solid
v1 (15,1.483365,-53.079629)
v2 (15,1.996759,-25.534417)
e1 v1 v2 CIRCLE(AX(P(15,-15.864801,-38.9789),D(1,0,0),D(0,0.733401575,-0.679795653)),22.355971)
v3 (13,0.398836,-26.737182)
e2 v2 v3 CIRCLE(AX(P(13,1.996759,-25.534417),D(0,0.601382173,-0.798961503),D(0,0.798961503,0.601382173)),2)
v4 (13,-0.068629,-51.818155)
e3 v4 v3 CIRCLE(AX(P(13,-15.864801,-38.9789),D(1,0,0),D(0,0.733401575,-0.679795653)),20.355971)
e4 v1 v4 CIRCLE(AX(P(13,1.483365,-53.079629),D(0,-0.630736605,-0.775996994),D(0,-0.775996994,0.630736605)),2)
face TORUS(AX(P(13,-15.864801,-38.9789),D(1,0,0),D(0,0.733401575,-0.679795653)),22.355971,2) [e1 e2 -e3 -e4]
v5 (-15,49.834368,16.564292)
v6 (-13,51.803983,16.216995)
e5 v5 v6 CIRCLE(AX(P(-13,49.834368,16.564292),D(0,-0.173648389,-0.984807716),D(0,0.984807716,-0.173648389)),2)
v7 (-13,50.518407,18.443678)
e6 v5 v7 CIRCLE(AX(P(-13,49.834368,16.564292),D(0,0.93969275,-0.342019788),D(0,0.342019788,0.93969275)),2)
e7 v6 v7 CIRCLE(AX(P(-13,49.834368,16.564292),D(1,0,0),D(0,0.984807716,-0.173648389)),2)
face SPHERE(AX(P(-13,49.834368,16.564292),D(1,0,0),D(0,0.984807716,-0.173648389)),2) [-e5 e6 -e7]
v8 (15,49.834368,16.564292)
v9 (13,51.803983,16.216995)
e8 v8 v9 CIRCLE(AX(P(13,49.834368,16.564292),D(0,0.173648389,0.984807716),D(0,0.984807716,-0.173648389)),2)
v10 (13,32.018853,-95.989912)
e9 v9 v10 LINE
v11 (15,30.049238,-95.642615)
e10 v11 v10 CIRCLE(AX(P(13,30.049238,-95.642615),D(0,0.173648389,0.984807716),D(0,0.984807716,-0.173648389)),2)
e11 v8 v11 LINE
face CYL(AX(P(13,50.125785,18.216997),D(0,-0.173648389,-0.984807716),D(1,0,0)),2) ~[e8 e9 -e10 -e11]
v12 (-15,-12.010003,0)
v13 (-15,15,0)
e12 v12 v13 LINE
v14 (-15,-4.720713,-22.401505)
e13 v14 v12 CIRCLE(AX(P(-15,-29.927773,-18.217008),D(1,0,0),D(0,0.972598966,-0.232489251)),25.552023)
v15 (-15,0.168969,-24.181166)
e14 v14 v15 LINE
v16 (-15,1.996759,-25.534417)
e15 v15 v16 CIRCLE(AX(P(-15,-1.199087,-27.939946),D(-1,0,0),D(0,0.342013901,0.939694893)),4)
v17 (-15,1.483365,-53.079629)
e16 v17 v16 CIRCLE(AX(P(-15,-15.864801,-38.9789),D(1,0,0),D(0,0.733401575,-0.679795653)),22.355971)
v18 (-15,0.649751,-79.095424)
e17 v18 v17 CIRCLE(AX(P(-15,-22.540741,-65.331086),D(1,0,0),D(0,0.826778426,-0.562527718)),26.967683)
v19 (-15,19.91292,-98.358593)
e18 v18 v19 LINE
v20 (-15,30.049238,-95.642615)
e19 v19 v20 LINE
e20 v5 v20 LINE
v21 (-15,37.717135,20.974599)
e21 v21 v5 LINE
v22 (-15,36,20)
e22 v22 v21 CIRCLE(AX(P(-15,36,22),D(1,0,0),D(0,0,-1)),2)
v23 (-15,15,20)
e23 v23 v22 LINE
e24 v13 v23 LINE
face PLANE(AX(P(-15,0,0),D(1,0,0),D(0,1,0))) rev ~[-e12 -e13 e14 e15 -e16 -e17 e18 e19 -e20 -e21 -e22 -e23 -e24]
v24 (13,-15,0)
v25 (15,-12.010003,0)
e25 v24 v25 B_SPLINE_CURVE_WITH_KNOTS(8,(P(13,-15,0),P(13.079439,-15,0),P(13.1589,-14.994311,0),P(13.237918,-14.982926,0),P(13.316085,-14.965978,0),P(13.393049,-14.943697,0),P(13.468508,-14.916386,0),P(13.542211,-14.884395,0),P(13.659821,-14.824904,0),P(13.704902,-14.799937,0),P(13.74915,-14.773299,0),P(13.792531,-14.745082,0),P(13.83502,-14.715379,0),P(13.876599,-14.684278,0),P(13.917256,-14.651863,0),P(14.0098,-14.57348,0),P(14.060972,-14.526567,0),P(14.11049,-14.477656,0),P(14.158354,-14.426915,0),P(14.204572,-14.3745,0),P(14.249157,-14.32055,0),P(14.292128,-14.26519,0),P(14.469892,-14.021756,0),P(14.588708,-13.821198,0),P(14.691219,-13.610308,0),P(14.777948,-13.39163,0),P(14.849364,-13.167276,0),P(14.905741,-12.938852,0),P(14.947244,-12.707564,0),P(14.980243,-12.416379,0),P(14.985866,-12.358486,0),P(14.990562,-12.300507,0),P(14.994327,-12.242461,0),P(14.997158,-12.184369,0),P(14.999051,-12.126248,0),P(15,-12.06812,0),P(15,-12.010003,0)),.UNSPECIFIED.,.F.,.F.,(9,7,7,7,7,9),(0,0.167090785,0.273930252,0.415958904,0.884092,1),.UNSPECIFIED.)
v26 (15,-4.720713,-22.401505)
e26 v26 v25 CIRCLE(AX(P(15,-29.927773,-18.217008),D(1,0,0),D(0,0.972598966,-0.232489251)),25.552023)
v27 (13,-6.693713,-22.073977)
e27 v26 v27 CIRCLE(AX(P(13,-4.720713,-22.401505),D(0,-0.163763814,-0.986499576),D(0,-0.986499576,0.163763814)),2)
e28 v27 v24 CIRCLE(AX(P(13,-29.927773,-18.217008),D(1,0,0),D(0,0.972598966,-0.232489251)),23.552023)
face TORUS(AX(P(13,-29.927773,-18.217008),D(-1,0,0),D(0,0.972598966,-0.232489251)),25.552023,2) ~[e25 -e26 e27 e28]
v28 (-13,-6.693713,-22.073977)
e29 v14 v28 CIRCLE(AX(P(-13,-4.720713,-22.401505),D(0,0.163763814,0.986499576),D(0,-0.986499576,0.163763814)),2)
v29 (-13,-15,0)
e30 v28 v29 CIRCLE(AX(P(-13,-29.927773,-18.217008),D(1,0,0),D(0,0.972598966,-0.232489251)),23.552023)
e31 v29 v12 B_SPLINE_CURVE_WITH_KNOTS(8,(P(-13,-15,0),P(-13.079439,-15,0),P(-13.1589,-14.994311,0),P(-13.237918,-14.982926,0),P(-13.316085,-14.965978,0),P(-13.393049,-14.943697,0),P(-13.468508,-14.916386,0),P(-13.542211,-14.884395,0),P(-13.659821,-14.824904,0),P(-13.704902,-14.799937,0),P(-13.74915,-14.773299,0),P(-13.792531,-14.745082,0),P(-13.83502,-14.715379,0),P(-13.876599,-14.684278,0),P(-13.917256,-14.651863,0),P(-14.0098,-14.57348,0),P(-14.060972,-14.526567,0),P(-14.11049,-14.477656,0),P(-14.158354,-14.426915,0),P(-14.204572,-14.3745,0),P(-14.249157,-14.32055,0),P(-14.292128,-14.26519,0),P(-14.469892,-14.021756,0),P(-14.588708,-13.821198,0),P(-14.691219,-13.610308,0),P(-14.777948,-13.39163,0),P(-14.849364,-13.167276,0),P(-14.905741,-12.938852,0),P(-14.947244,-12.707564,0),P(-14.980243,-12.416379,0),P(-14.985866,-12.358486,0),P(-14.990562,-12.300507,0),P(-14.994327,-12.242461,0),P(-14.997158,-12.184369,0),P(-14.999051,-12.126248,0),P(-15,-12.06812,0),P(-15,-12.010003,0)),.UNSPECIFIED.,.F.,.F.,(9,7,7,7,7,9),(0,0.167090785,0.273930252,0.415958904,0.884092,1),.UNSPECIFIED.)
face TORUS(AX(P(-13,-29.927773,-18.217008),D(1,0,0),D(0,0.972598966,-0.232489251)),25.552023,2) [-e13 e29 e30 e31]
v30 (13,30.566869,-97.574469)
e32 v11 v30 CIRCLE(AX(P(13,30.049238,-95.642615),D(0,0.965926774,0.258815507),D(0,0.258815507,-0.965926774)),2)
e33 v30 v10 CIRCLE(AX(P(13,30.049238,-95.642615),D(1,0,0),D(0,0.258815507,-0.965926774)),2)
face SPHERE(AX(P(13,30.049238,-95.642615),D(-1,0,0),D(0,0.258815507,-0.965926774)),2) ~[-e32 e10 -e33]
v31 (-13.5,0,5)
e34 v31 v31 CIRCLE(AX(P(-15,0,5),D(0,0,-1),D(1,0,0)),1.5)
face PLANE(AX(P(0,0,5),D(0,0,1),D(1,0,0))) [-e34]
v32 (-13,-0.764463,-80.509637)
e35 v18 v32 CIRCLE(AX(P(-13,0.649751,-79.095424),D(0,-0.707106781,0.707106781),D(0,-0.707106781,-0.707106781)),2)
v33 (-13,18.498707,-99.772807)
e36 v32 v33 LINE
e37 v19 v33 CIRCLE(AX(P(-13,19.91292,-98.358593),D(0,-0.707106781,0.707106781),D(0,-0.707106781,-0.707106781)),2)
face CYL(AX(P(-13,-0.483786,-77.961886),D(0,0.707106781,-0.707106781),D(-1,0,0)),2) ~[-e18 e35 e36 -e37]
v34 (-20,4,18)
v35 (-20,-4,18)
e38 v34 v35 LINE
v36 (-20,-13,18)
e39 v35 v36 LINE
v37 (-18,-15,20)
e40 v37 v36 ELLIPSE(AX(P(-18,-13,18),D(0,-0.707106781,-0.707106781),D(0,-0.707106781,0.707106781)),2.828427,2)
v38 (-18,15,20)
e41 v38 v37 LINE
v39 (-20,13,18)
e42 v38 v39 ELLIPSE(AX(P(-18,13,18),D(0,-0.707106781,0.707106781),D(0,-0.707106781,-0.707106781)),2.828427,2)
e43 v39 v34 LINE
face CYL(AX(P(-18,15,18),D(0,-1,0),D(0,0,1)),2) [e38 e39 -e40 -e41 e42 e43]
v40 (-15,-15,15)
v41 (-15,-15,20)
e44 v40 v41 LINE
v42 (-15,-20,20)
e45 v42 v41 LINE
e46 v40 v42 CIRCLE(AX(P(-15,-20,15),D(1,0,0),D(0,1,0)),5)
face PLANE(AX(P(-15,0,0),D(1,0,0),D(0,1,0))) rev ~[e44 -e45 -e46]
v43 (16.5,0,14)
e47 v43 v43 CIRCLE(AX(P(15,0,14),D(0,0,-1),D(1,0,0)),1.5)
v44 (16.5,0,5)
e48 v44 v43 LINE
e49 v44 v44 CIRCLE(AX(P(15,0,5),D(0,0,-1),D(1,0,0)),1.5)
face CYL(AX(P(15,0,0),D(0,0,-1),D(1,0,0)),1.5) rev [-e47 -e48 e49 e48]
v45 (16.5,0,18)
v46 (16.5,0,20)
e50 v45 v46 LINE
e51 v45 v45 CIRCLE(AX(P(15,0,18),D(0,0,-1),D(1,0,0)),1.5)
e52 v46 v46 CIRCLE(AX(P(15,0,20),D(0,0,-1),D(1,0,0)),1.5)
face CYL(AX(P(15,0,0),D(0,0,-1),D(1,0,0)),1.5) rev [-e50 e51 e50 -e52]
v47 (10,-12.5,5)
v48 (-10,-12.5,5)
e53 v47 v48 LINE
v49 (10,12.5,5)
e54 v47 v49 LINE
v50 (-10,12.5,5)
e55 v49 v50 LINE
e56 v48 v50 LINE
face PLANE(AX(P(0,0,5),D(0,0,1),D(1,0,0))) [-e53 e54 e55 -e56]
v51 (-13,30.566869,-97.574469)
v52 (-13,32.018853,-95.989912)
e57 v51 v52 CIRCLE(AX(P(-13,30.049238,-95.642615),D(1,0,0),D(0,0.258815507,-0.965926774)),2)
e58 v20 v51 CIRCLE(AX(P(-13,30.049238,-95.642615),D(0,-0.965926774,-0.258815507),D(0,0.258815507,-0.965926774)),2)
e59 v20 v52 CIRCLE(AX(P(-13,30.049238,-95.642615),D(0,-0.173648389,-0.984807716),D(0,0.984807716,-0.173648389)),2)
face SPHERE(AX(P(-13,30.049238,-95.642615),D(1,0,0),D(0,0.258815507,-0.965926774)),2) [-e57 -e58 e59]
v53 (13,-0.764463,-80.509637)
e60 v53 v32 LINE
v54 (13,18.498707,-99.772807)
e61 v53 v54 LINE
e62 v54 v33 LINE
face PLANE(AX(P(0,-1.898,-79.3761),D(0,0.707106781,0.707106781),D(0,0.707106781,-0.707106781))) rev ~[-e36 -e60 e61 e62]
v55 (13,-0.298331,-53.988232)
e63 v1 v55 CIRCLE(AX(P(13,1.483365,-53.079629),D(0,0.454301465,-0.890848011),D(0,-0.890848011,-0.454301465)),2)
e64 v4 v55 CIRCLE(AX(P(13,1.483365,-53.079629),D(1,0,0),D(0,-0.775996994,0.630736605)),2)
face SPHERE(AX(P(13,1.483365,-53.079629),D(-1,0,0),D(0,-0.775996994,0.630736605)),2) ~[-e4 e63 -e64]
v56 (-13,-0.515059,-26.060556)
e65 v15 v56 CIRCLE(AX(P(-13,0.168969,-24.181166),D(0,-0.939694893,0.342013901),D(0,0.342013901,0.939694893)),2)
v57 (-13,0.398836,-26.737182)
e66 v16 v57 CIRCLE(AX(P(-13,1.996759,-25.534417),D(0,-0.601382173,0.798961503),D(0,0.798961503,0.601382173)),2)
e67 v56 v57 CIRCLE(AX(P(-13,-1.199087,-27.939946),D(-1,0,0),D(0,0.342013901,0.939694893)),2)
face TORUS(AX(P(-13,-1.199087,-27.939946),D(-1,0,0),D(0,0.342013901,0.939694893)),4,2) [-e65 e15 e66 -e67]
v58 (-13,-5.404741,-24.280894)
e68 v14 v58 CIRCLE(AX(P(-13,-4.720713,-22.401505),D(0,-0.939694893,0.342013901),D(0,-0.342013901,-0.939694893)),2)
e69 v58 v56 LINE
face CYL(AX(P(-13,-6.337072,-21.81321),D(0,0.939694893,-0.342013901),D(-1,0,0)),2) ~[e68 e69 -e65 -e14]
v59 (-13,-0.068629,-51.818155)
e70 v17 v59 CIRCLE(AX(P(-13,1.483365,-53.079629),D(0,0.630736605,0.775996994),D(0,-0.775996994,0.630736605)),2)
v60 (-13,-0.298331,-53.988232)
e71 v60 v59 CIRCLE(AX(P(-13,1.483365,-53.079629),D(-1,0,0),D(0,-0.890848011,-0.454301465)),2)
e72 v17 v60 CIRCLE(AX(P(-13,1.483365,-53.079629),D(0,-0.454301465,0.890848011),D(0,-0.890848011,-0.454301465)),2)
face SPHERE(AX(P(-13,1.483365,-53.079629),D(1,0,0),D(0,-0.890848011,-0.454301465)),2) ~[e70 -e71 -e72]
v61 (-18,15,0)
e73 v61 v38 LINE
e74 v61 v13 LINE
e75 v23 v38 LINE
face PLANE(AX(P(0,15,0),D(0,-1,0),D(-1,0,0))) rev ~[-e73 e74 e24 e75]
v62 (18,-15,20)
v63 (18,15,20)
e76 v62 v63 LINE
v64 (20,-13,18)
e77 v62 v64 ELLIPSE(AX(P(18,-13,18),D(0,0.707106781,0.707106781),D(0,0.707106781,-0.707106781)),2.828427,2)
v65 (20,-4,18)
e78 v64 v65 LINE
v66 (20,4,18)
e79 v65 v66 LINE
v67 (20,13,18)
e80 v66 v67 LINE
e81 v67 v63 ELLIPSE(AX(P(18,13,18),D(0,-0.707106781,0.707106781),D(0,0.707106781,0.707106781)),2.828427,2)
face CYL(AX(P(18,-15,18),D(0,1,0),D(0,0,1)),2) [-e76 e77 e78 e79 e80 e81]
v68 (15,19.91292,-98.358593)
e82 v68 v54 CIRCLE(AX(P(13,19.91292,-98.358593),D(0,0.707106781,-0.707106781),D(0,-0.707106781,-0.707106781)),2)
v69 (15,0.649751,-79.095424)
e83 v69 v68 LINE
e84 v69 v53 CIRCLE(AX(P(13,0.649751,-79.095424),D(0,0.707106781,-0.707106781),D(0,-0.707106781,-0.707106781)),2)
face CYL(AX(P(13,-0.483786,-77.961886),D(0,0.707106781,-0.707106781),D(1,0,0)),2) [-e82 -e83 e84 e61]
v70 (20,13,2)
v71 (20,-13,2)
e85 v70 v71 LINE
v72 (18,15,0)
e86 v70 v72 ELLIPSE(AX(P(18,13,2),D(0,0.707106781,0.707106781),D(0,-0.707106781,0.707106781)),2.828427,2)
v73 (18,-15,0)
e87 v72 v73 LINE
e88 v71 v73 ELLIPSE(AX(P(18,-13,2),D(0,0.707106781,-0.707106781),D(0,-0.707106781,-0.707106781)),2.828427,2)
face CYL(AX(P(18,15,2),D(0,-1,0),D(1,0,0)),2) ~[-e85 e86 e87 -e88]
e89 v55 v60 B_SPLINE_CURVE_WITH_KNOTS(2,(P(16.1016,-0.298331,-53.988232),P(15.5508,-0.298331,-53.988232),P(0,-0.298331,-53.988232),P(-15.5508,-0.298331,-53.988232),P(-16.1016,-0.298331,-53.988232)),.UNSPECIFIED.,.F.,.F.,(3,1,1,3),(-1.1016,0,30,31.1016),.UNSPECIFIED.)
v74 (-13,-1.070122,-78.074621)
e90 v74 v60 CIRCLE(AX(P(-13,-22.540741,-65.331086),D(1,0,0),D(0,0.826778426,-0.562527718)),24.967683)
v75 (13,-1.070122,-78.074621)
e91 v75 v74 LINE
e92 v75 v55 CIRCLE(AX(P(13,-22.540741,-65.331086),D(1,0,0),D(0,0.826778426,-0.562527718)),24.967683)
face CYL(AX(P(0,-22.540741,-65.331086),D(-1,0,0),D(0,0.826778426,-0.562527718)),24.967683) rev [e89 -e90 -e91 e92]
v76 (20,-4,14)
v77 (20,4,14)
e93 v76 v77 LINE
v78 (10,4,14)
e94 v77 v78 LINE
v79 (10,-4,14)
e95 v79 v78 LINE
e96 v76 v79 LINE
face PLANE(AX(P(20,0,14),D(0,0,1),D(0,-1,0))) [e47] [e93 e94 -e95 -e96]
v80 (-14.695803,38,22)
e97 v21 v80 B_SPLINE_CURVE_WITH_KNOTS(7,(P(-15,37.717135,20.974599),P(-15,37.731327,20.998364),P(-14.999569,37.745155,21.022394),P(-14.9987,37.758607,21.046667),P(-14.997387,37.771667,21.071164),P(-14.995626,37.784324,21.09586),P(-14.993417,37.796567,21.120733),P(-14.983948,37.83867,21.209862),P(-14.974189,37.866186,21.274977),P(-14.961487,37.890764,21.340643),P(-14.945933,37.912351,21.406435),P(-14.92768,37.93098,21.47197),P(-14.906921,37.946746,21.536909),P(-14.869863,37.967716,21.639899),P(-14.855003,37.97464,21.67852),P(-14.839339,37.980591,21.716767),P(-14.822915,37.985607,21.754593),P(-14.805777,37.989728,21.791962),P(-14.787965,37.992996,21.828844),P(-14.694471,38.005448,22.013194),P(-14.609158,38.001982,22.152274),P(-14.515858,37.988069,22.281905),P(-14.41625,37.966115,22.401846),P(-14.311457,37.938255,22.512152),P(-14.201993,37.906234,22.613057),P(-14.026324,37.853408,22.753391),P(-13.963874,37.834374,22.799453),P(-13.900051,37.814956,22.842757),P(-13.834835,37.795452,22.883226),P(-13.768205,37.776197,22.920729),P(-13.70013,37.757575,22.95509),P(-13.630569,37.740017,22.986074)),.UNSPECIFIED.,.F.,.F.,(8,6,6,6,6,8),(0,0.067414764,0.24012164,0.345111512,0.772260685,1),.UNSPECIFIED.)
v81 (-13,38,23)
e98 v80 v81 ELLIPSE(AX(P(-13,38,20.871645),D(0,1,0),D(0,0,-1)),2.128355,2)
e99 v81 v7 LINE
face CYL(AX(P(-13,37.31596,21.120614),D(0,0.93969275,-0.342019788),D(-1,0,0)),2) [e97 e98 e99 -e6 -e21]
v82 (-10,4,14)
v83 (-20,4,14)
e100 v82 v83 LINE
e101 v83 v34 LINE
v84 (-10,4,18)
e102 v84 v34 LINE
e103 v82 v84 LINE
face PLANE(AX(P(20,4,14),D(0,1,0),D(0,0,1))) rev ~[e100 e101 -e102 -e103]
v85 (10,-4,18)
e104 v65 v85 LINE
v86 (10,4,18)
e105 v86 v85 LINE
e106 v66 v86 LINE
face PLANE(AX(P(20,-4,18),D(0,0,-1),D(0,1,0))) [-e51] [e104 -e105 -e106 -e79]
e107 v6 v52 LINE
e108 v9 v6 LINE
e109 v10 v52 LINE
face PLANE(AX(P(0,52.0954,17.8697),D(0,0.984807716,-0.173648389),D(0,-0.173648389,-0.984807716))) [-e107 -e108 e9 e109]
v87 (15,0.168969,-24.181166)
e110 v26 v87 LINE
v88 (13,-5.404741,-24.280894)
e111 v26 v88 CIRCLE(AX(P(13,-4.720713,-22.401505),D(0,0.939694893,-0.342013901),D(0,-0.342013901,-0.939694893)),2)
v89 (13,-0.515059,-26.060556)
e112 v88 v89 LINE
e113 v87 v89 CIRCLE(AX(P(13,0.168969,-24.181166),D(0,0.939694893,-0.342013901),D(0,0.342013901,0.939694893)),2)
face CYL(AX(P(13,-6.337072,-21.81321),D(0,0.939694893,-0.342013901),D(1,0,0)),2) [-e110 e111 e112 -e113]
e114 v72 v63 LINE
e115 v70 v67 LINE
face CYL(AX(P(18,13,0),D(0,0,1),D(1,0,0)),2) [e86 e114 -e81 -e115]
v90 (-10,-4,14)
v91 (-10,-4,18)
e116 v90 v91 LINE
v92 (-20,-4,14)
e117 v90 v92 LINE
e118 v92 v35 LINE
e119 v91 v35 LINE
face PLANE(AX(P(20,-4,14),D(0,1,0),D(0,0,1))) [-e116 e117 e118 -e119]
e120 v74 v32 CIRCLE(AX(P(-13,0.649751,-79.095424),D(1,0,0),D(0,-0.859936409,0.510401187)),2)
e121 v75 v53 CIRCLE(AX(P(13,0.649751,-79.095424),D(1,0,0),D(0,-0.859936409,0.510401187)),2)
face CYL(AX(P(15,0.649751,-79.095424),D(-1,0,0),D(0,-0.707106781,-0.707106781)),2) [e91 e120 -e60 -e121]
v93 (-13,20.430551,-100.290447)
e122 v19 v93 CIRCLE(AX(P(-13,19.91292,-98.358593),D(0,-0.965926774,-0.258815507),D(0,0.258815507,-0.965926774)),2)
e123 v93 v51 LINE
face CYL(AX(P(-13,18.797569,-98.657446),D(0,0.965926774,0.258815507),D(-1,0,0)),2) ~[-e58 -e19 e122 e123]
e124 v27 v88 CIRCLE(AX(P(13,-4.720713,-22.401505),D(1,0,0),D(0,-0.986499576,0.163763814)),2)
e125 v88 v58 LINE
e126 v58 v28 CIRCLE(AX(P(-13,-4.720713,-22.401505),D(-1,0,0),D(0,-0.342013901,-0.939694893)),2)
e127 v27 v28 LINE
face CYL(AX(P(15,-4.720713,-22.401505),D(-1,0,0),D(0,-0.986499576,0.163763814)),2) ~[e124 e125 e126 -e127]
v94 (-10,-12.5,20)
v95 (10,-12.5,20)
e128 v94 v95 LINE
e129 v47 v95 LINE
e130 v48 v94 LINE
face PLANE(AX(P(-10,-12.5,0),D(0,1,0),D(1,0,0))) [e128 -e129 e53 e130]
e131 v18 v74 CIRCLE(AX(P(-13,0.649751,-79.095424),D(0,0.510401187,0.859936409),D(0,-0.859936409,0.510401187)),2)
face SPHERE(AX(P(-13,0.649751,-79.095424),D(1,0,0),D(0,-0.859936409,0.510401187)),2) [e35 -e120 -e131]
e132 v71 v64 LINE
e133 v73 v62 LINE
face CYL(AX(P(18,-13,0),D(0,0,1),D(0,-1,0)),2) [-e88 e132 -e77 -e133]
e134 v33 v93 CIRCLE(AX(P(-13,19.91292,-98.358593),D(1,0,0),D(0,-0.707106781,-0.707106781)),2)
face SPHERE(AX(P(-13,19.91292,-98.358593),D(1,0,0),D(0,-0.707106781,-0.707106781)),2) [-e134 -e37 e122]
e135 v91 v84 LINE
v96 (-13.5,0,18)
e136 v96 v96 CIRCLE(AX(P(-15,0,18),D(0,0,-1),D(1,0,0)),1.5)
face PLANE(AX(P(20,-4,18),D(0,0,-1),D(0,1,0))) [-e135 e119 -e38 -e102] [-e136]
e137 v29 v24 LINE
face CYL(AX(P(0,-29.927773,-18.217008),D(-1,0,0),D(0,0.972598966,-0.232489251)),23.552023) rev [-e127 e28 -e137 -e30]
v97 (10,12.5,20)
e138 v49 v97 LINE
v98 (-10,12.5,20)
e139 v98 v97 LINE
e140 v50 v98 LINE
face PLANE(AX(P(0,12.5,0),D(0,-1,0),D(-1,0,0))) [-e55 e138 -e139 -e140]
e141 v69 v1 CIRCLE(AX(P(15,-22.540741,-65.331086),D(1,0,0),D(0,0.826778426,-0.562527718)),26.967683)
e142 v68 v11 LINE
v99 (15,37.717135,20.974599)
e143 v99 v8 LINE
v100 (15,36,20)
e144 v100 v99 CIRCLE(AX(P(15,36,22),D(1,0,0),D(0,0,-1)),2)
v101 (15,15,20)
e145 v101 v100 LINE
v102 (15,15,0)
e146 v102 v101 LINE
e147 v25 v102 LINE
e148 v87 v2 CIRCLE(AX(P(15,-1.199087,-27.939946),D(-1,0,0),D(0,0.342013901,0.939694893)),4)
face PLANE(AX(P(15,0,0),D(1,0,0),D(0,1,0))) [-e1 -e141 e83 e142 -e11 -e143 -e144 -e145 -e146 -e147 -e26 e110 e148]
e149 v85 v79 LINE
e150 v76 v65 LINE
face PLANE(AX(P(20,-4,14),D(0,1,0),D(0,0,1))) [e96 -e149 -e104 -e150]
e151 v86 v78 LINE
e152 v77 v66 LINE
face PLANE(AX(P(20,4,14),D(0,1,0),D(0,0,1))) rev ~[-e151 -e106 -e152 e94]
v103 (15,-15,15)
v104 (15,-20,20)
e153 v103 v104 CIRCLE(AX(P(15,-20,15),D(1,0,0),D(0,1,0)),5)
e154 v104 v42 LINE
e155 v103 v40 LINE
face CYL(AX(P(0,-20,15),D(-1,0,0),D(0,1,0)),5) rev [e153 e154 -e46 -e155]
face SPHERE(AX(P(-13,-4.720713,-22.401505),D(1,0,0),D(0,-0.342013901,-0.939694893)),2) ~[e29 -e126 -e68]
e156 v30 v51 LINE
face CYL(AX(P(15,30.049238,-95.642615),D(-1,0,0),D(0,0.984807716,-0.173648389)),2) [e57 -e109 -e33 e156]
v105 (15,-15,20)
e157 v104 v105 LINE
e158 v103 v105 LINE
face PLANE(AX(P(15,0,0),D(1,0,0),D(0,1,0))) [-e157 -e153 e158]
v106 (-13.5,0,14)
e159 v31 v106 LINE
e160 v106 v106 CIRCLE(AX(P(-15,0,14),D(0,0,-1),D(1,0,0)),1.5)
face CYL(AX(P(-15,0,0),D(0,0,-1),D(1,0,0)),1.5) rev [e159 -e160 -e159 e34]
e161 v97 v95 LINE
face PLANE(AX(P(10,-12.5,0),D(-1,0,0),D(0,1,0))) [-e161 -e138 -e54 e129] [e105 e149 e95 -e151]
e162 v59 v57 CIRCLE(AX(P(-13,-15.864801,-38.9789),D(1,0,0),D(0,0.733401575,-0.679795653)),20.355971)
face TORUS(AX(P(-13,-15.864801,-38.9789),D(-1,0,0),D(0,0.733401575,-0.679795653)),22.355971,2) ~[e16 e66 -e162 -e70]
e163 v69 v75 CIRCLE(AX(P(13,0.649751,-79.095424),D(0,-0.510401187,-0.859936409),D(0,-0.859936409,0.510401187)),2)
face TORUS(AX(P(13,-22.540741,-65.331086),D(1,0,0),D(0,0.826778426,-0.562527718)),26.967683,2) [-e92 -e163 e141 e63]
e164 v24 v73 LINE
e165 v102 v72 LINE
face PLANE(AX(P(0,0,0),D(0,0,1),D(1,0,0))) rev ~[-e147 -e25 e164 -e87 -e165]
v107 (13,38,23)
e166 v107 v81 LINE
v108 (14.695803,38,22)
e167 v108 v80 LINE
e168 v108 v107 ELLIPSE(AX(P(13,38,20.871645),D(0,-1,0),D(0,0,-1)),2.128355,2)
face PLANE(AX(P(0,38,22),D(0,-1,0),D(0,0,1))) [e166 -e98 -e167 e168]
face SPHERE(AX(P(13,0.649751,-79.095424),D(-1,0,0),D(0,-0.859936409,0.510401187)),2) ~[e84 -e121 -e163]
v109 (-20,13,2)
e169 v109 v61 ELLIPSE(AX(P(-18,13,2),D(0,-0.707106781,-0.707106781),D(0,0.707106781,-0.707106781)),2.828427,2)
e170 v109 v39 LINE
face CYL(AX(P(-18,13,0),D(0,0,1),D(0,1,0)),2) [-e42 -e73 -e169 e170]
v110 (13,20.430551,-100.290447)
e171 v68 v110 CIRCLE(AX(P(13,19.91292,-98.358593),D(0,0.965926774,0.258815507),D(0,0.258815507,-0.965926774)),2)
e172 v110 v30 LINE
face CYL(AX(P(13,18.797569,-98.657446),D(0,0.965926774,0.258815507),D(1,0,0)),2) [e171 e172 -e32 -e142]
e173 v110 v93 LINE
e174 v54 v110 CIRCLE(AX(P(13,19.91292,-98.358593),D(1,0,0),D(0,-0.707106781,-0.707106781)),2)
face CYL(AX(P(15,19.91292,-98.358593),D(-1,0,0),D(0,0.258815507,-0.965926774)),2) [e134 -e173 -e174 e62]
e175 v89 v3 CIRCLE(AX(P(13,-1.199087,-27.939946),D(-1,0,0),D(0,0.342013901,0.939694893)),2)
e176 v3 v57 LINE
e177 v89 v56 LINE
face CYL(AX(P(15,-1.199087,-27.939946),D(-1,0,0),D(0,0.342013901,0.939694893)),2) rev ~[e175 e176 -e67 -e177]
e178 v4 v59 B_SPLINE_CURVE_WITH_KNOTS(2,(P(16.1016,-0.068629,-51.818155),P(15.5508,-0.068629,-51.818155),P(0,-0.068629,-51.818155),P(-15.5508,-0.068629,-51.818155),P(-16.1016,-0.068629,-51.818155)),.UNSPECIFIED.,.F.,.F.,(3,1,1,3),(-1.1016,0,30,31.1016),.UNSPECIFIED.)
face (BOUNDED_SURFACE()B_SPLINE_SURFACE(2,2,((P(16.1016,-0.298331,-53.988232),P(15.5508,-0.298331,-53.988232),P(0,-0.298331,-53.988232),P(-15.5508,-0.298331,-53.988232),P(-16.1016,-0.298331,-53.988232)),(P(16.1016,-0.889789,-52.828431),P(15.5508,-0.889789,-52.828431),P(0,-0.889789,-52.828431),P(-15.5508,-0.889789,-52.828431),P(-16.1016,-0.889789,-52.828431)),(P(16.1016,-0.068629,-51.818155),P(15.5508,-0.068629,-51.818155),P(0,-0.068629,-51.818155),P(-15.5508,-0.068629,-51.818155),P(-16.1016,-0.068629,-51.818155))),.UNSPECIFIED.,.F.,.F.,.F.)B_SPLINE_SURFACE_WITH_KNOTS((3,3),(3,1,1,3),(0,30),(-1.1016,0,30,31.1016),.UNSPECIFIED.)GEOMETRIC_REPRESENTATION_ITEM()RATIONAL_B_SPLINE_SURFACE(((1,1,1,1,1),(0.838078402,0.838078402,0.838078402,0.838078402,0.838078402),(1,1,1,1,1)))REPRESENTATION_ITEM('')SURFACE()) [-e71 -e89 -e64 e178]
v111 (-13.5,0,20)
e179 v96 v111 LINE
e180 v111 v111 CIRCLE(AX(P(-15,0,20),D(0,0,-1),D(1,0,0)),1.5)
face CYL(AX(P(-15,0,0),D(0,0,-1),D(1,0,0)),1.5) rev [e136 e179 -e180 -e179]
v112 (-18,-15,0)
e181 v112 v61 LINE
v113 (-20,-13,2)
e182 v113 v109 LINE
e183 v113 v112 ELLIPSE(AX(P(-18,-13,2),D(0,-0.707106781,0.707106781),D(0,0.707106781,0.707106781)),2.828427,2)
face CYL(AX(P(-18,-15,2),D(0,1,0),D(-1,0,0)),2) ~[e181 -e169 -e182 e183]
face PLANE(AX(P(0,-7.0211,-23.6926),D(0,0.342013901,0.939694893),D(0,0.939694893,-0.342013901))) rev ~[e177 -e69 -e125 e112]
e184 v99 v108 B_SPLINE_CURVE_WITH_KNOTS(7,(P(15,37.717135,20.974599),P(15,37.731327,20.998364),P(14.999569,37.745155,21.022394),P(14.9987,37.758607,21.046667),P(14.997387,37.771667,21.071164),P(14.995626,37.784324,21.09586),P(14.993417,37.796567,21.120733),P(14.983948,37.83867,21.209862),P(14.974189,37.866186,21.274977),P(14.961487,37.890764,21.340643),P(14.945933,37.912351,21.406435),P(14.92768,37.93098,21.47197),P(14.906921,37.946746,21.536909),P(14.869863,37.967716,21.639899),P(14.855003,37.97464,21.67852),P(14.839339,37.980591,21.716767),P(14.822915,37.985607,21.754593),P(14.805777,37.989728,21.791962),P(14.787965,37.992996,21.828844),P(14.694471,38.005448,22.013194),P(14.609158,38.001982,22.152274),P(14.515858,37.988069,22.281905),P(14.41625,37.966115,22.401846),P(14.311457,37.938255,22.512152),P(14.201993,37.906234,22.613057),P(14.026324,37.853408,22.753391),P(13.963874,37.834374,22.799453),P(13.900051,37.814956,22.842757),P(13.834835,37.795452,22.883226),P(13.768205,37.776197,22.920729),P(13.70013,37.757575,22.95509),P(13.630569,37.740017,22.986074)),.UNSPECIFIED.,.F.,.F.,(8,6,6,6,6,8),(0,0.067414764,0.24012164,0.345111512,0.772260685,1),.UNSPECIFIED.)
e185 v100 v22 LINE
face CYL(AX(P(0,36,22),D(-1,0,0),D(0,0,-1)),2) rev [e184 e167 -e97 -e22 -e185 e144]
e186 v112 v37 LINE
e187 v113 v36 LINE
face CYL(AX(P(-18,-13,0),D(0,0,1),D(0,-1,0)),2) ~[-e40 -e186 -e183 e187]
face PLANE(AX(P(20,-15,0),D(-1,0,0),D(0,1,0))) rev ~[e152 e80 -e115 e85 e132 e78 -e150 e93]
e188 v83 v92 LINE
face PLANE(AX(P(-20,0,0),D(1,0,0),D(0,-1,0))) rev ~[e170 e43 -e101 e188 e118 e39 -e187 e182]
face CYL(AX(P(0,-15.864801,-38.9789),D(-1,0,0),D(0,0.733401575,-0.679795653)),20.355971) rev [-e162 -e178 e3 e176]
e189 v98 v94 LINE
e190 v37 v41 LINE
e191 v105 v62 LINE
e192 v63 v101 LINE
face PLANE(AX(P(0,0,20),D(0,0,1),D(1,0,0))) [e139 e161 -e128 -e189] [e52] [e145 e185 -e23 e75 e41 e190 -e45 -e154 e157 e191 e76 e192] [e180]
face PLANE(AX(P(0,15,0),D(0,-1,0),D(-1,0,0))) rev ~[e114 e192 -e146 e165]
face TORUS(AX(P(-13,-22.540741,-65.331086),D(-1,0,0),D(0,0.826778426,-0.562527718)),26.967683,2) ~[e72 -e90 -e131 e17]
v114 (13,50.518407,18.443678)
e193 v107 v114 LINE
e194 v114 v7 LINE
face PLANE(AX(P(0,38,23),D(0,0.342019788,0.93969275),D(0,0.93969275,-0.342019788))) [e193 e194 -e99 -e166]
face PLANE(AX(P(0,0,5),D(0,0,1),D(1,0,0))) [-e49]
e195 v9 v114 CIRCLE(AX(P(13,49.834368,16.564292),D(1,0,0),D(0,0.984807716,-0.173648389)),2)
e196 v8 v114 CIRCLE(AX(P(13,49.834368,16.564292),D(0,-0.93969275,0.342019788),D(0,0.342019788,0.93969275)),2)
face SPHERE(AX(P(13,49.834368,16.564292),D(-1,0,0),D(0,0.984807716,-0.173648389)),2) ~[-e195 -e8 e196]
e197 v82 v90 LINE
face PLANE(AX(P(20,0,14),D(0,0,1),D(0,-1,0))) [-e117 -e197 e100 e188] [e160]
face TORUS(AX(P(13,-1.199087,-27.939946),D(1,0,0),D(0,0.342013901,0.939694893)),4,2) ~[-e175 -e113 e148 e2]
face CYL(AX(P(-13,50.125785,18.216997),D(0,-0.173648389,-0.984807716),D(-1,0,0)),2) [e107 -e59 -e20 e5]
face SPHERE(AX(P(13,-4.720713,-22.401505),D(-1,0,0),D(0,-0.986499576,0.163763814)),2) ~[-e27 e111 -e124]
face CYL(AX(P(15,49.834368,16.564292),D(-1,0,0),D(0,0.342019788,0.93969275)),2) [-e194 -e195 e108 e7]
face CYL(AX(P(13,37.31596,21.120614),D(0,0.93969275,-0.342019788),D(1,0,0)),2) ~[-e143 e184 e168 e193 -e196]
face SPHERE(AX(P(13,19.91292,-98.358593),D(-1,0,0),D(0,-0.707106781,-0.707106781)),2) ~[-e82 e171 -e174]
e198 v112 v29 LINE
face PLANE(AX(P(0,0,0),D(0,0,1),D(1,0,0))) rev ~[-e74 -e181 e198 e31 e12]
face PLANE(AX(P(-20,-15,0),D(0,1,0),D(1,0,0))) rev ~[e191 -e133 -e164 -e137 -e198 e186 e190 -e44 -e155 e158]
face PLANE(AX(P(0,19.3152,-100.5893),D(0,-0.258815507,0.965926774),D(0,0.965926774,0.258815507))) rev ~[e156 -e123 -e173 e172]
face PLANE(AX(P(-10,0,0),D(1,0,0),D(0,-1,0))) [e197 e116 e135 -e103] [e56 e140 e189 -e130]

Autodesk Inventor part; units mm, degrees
ref_plane "YZ Plane" through (0, 0, 0) normal (1, 0, 0) x (0, 1, 0)
ref_plane "XZ Plane" through (0, 0, 0) normal (0, 1, 0) x (-1, 0, 0)
ref_plane "XY Plane" through (0, 0, 0) normal (0, 0, 1) x (1, 0, 0)
sketch "Sketch5" plane through (0, 0, 0) normal (0, 0, 1) x (1, 0, 0)
  line L0 (-10, -12.5) -> (10, -12.5)
  line L1 (10, -12.5) -> (10, 12.5)
  line L2 (10, 12.5) -> (-10, 12.5)
  line L3 (-10, 12.5) -> (-10, -12.5)
  line L4 (-10, -12.5) -> (10, 12.5) construction
  line L5 (10, -12.5) -> (-10, 12.5) construction
  circle A0 centre (15, 0) radius 1.5
  circle A1 centre (-15, 0) radius 1.5
  line L6 (-20, -15) -> (20, -15)
  line L7 (20, -15) -> (20, 15)
  line L8 (20, 15) -> (-20, 15)
  line L9 (-20, 15) -> (-20, -15)
  line L10 (-20, -15) -> (20, 15) construction
  line L11 (20, -15) -> (-20, 15) construction
  line L12 (-20, 0) -> (20, 0)
  line L13 (0, -15) -> (0, 15)
  point P0 (0, 0)
  dimension "d27" = 20
  dimension "d28" = 25
  dimension "d29" = 3
  dimension "d30" = 15
  dimension "d31" = 30
  dimension "d36" = 40
extrude "Extrusion4" add sketch "Sketch5" along normal blind 20 contours L0 L13 L6 L9 L12 A1 L3 | L0 L1 L12 A0 L7 L6 L13 | L12 A1 L9 L8 L13 L2 L3 | L1 L2 L13 L8 L7 L12 A0
extrude "Extrusion5" add sketch "Sketch5" along normal blind 5 contours L3 L12 L13 L0 | L13 L12 L1 L0 | L3 L2 L13 L12 | L13 L2 L1 L12
extrude "Extrusion6" add sketch "Sketch5" along normal blind 5 contours L12 A1 | A1 L12 | L12 A0 | A0 L12
fillet "Fillet3" radius 2 8 edges at (20, 0, 0) (20, 15, 10) (20, 0, 20) (20, -15, 10) (-20, 0, 0) (-20, -15, 10) (-20, 0, 20) (-20, 15, 10)
sketch "Sketch9" plane through (0, 0, 0) normal (1, 0, 0) x (0, 1, 0)
  line L0 (-12.5, 20) -> (12.5, 20) projected
  line L1 (-36, 20) -> (36, 20)
  arc A0 (36, 20) -> (38, 22) centre (36, 22) ccw
  line L2 (38, 22) -> (38, 23)
  line L3 (15, 0) -> (15, 20) projected
  line L4 (38, 23) -> (52.0954, 17.8697)
  line L5 (38, 23) -> (53, 23) construction
  line L6 (-15, 0) -> (-15, 20) projected
  line L7 (-15, 0) -> (-5, 0) construction
  line L8 (-15, 0) -> (15, 0)
  line L9 (15, 20) -> (15, 0)
  line L10 (-15, 0) -> (-15, 20)
  line L11 (-15, 20) -> (-20, 20)
  arc A1 (-15, 15) -> (-20, 20) centre (-20, 15) ccw
  line L12 (-20, 20) -> (-15, 15) construction
  line L13 (-20, 20) -> (-12.9289, 20) construction
  line L14 (-1.898, -79.3761) -> (19.3152, -100.5893)
  line L15 (19.3152, -100.5893) -> (31.7976, -97.2447)
  line L16 (52.0954, 17.8697) -> (31.7976, -97.2447)
  line L17 (-15, 0) -> (-7.0211, -23.6926)
  arc A2 (-7.0211, -23.6926) -> (-15, 0) centre (-29.9276, -18.217) ccw
  line L18 (-7.0211, -23.6926) -> (0.0266, -26.2577)
  line L19 (-7.0211, -23.6926) -> (0.4789, -23.6926) construction
  line L20 (0.0266, -26.2577) -> (-1.898, -79.3761)
  arc A3 (-0.9357, -52.8168) -> (0.0266, -26.2577) centre (-15.8648, -38.9789) ccw
  arc A4 (-1.898, -79.3761) -> (-0.9357, -52.8168) centre (-22.5407, -65.3311) ccw
  point P0 (0, 0)
  point P1 (0, 20)
  dimension "d46" = 72
  dimension "d47" = 2
  dimension "d48" = 1
  dimension "d60" = 15
  dimension "d61" = 20
  dimension "d73" = 5
  dimension "d74" = 45
  dimension "d79" = 30
  dimension "d81" = 120
  dimension "d91" = 25
  dimension "d94" = 7.5
  dimension "d95" = 20
  dimension "d96" = 26.5765
extrude "Extrusion10" add sketch "Sketch9" along normal mid plane 30 contours L6 A1 L1 | L1 A0 L2 L4 L16 L15 L14 A4 A3 L18 A2 L8 L3
fillet "Fillet4" radius 2 23 edges at (15, -7.6075, -10.7002) (0, 0.0266, -26.2577) (15, -3.4973, -24.9751) (0, -7.0211, -23.6926) (-15, -3.4973, -24.9751) (0, -1.898, -79.3761) (15, 2.4106, -66.2351) (0, -0.9357, -52.8168) (-15, 2.4106, -66.2351) (15, 4.4778, -39.716) (-15, 4.4778, -39.716) (0, 19.3152, -100.5893) (15, 8.7086, -89.9827) (-15, 8.7086, -89.9827) (0, 31.7976, -97.2447) (15, 25.5564, -98.917) (-15, 25.5564, -98.917) (-15, -7.6075, -10.7002) (0, 52.0954, 17.8697) (15, 41.9465, -39.6875) (-15, 41.9465, -39.6875) (-15, 45.0477, 20.4348) (15, 45.0477, 20.4348)
thread "Thread3" size "M3x0.5" class "6H" standard "ANSI Metric M Profile" length 8.001
thread "Thread4" size "M3x0.5" class "6H" standard "ANSI Metric M Profile" length 8.001
sketch "Sketch10" plane through (20, -13, 2) normal (1, 0, 0) x (0, 0, -1)
  line L0 (-16, 0) -> (-16, 26) projected
  line L1 (-16, 13) -> (-12, 13)
  line L2 (-12, 13) -> (-12, 17)
  line L3 (-12, 17) -> (-16, 17)
  line L4 (-16, 17) -> (-16, 13)
  line L5 (-16, 13) -> (-12, 13)
  line L6 (-12, 13) -> (-12, 9)
  line L7 (-12, 9) -> (-16, 9)
  line L8 (-16, 9) -> (-16, 13)
  point P0 (2, 13)
  dimension "d104" = 4
  dimension "d105" = 4
  dimension "d106" = 4
extrude "Extrusion11" cut sketch "Sketch10" against normal through all
properties part number "Controller Handle"
